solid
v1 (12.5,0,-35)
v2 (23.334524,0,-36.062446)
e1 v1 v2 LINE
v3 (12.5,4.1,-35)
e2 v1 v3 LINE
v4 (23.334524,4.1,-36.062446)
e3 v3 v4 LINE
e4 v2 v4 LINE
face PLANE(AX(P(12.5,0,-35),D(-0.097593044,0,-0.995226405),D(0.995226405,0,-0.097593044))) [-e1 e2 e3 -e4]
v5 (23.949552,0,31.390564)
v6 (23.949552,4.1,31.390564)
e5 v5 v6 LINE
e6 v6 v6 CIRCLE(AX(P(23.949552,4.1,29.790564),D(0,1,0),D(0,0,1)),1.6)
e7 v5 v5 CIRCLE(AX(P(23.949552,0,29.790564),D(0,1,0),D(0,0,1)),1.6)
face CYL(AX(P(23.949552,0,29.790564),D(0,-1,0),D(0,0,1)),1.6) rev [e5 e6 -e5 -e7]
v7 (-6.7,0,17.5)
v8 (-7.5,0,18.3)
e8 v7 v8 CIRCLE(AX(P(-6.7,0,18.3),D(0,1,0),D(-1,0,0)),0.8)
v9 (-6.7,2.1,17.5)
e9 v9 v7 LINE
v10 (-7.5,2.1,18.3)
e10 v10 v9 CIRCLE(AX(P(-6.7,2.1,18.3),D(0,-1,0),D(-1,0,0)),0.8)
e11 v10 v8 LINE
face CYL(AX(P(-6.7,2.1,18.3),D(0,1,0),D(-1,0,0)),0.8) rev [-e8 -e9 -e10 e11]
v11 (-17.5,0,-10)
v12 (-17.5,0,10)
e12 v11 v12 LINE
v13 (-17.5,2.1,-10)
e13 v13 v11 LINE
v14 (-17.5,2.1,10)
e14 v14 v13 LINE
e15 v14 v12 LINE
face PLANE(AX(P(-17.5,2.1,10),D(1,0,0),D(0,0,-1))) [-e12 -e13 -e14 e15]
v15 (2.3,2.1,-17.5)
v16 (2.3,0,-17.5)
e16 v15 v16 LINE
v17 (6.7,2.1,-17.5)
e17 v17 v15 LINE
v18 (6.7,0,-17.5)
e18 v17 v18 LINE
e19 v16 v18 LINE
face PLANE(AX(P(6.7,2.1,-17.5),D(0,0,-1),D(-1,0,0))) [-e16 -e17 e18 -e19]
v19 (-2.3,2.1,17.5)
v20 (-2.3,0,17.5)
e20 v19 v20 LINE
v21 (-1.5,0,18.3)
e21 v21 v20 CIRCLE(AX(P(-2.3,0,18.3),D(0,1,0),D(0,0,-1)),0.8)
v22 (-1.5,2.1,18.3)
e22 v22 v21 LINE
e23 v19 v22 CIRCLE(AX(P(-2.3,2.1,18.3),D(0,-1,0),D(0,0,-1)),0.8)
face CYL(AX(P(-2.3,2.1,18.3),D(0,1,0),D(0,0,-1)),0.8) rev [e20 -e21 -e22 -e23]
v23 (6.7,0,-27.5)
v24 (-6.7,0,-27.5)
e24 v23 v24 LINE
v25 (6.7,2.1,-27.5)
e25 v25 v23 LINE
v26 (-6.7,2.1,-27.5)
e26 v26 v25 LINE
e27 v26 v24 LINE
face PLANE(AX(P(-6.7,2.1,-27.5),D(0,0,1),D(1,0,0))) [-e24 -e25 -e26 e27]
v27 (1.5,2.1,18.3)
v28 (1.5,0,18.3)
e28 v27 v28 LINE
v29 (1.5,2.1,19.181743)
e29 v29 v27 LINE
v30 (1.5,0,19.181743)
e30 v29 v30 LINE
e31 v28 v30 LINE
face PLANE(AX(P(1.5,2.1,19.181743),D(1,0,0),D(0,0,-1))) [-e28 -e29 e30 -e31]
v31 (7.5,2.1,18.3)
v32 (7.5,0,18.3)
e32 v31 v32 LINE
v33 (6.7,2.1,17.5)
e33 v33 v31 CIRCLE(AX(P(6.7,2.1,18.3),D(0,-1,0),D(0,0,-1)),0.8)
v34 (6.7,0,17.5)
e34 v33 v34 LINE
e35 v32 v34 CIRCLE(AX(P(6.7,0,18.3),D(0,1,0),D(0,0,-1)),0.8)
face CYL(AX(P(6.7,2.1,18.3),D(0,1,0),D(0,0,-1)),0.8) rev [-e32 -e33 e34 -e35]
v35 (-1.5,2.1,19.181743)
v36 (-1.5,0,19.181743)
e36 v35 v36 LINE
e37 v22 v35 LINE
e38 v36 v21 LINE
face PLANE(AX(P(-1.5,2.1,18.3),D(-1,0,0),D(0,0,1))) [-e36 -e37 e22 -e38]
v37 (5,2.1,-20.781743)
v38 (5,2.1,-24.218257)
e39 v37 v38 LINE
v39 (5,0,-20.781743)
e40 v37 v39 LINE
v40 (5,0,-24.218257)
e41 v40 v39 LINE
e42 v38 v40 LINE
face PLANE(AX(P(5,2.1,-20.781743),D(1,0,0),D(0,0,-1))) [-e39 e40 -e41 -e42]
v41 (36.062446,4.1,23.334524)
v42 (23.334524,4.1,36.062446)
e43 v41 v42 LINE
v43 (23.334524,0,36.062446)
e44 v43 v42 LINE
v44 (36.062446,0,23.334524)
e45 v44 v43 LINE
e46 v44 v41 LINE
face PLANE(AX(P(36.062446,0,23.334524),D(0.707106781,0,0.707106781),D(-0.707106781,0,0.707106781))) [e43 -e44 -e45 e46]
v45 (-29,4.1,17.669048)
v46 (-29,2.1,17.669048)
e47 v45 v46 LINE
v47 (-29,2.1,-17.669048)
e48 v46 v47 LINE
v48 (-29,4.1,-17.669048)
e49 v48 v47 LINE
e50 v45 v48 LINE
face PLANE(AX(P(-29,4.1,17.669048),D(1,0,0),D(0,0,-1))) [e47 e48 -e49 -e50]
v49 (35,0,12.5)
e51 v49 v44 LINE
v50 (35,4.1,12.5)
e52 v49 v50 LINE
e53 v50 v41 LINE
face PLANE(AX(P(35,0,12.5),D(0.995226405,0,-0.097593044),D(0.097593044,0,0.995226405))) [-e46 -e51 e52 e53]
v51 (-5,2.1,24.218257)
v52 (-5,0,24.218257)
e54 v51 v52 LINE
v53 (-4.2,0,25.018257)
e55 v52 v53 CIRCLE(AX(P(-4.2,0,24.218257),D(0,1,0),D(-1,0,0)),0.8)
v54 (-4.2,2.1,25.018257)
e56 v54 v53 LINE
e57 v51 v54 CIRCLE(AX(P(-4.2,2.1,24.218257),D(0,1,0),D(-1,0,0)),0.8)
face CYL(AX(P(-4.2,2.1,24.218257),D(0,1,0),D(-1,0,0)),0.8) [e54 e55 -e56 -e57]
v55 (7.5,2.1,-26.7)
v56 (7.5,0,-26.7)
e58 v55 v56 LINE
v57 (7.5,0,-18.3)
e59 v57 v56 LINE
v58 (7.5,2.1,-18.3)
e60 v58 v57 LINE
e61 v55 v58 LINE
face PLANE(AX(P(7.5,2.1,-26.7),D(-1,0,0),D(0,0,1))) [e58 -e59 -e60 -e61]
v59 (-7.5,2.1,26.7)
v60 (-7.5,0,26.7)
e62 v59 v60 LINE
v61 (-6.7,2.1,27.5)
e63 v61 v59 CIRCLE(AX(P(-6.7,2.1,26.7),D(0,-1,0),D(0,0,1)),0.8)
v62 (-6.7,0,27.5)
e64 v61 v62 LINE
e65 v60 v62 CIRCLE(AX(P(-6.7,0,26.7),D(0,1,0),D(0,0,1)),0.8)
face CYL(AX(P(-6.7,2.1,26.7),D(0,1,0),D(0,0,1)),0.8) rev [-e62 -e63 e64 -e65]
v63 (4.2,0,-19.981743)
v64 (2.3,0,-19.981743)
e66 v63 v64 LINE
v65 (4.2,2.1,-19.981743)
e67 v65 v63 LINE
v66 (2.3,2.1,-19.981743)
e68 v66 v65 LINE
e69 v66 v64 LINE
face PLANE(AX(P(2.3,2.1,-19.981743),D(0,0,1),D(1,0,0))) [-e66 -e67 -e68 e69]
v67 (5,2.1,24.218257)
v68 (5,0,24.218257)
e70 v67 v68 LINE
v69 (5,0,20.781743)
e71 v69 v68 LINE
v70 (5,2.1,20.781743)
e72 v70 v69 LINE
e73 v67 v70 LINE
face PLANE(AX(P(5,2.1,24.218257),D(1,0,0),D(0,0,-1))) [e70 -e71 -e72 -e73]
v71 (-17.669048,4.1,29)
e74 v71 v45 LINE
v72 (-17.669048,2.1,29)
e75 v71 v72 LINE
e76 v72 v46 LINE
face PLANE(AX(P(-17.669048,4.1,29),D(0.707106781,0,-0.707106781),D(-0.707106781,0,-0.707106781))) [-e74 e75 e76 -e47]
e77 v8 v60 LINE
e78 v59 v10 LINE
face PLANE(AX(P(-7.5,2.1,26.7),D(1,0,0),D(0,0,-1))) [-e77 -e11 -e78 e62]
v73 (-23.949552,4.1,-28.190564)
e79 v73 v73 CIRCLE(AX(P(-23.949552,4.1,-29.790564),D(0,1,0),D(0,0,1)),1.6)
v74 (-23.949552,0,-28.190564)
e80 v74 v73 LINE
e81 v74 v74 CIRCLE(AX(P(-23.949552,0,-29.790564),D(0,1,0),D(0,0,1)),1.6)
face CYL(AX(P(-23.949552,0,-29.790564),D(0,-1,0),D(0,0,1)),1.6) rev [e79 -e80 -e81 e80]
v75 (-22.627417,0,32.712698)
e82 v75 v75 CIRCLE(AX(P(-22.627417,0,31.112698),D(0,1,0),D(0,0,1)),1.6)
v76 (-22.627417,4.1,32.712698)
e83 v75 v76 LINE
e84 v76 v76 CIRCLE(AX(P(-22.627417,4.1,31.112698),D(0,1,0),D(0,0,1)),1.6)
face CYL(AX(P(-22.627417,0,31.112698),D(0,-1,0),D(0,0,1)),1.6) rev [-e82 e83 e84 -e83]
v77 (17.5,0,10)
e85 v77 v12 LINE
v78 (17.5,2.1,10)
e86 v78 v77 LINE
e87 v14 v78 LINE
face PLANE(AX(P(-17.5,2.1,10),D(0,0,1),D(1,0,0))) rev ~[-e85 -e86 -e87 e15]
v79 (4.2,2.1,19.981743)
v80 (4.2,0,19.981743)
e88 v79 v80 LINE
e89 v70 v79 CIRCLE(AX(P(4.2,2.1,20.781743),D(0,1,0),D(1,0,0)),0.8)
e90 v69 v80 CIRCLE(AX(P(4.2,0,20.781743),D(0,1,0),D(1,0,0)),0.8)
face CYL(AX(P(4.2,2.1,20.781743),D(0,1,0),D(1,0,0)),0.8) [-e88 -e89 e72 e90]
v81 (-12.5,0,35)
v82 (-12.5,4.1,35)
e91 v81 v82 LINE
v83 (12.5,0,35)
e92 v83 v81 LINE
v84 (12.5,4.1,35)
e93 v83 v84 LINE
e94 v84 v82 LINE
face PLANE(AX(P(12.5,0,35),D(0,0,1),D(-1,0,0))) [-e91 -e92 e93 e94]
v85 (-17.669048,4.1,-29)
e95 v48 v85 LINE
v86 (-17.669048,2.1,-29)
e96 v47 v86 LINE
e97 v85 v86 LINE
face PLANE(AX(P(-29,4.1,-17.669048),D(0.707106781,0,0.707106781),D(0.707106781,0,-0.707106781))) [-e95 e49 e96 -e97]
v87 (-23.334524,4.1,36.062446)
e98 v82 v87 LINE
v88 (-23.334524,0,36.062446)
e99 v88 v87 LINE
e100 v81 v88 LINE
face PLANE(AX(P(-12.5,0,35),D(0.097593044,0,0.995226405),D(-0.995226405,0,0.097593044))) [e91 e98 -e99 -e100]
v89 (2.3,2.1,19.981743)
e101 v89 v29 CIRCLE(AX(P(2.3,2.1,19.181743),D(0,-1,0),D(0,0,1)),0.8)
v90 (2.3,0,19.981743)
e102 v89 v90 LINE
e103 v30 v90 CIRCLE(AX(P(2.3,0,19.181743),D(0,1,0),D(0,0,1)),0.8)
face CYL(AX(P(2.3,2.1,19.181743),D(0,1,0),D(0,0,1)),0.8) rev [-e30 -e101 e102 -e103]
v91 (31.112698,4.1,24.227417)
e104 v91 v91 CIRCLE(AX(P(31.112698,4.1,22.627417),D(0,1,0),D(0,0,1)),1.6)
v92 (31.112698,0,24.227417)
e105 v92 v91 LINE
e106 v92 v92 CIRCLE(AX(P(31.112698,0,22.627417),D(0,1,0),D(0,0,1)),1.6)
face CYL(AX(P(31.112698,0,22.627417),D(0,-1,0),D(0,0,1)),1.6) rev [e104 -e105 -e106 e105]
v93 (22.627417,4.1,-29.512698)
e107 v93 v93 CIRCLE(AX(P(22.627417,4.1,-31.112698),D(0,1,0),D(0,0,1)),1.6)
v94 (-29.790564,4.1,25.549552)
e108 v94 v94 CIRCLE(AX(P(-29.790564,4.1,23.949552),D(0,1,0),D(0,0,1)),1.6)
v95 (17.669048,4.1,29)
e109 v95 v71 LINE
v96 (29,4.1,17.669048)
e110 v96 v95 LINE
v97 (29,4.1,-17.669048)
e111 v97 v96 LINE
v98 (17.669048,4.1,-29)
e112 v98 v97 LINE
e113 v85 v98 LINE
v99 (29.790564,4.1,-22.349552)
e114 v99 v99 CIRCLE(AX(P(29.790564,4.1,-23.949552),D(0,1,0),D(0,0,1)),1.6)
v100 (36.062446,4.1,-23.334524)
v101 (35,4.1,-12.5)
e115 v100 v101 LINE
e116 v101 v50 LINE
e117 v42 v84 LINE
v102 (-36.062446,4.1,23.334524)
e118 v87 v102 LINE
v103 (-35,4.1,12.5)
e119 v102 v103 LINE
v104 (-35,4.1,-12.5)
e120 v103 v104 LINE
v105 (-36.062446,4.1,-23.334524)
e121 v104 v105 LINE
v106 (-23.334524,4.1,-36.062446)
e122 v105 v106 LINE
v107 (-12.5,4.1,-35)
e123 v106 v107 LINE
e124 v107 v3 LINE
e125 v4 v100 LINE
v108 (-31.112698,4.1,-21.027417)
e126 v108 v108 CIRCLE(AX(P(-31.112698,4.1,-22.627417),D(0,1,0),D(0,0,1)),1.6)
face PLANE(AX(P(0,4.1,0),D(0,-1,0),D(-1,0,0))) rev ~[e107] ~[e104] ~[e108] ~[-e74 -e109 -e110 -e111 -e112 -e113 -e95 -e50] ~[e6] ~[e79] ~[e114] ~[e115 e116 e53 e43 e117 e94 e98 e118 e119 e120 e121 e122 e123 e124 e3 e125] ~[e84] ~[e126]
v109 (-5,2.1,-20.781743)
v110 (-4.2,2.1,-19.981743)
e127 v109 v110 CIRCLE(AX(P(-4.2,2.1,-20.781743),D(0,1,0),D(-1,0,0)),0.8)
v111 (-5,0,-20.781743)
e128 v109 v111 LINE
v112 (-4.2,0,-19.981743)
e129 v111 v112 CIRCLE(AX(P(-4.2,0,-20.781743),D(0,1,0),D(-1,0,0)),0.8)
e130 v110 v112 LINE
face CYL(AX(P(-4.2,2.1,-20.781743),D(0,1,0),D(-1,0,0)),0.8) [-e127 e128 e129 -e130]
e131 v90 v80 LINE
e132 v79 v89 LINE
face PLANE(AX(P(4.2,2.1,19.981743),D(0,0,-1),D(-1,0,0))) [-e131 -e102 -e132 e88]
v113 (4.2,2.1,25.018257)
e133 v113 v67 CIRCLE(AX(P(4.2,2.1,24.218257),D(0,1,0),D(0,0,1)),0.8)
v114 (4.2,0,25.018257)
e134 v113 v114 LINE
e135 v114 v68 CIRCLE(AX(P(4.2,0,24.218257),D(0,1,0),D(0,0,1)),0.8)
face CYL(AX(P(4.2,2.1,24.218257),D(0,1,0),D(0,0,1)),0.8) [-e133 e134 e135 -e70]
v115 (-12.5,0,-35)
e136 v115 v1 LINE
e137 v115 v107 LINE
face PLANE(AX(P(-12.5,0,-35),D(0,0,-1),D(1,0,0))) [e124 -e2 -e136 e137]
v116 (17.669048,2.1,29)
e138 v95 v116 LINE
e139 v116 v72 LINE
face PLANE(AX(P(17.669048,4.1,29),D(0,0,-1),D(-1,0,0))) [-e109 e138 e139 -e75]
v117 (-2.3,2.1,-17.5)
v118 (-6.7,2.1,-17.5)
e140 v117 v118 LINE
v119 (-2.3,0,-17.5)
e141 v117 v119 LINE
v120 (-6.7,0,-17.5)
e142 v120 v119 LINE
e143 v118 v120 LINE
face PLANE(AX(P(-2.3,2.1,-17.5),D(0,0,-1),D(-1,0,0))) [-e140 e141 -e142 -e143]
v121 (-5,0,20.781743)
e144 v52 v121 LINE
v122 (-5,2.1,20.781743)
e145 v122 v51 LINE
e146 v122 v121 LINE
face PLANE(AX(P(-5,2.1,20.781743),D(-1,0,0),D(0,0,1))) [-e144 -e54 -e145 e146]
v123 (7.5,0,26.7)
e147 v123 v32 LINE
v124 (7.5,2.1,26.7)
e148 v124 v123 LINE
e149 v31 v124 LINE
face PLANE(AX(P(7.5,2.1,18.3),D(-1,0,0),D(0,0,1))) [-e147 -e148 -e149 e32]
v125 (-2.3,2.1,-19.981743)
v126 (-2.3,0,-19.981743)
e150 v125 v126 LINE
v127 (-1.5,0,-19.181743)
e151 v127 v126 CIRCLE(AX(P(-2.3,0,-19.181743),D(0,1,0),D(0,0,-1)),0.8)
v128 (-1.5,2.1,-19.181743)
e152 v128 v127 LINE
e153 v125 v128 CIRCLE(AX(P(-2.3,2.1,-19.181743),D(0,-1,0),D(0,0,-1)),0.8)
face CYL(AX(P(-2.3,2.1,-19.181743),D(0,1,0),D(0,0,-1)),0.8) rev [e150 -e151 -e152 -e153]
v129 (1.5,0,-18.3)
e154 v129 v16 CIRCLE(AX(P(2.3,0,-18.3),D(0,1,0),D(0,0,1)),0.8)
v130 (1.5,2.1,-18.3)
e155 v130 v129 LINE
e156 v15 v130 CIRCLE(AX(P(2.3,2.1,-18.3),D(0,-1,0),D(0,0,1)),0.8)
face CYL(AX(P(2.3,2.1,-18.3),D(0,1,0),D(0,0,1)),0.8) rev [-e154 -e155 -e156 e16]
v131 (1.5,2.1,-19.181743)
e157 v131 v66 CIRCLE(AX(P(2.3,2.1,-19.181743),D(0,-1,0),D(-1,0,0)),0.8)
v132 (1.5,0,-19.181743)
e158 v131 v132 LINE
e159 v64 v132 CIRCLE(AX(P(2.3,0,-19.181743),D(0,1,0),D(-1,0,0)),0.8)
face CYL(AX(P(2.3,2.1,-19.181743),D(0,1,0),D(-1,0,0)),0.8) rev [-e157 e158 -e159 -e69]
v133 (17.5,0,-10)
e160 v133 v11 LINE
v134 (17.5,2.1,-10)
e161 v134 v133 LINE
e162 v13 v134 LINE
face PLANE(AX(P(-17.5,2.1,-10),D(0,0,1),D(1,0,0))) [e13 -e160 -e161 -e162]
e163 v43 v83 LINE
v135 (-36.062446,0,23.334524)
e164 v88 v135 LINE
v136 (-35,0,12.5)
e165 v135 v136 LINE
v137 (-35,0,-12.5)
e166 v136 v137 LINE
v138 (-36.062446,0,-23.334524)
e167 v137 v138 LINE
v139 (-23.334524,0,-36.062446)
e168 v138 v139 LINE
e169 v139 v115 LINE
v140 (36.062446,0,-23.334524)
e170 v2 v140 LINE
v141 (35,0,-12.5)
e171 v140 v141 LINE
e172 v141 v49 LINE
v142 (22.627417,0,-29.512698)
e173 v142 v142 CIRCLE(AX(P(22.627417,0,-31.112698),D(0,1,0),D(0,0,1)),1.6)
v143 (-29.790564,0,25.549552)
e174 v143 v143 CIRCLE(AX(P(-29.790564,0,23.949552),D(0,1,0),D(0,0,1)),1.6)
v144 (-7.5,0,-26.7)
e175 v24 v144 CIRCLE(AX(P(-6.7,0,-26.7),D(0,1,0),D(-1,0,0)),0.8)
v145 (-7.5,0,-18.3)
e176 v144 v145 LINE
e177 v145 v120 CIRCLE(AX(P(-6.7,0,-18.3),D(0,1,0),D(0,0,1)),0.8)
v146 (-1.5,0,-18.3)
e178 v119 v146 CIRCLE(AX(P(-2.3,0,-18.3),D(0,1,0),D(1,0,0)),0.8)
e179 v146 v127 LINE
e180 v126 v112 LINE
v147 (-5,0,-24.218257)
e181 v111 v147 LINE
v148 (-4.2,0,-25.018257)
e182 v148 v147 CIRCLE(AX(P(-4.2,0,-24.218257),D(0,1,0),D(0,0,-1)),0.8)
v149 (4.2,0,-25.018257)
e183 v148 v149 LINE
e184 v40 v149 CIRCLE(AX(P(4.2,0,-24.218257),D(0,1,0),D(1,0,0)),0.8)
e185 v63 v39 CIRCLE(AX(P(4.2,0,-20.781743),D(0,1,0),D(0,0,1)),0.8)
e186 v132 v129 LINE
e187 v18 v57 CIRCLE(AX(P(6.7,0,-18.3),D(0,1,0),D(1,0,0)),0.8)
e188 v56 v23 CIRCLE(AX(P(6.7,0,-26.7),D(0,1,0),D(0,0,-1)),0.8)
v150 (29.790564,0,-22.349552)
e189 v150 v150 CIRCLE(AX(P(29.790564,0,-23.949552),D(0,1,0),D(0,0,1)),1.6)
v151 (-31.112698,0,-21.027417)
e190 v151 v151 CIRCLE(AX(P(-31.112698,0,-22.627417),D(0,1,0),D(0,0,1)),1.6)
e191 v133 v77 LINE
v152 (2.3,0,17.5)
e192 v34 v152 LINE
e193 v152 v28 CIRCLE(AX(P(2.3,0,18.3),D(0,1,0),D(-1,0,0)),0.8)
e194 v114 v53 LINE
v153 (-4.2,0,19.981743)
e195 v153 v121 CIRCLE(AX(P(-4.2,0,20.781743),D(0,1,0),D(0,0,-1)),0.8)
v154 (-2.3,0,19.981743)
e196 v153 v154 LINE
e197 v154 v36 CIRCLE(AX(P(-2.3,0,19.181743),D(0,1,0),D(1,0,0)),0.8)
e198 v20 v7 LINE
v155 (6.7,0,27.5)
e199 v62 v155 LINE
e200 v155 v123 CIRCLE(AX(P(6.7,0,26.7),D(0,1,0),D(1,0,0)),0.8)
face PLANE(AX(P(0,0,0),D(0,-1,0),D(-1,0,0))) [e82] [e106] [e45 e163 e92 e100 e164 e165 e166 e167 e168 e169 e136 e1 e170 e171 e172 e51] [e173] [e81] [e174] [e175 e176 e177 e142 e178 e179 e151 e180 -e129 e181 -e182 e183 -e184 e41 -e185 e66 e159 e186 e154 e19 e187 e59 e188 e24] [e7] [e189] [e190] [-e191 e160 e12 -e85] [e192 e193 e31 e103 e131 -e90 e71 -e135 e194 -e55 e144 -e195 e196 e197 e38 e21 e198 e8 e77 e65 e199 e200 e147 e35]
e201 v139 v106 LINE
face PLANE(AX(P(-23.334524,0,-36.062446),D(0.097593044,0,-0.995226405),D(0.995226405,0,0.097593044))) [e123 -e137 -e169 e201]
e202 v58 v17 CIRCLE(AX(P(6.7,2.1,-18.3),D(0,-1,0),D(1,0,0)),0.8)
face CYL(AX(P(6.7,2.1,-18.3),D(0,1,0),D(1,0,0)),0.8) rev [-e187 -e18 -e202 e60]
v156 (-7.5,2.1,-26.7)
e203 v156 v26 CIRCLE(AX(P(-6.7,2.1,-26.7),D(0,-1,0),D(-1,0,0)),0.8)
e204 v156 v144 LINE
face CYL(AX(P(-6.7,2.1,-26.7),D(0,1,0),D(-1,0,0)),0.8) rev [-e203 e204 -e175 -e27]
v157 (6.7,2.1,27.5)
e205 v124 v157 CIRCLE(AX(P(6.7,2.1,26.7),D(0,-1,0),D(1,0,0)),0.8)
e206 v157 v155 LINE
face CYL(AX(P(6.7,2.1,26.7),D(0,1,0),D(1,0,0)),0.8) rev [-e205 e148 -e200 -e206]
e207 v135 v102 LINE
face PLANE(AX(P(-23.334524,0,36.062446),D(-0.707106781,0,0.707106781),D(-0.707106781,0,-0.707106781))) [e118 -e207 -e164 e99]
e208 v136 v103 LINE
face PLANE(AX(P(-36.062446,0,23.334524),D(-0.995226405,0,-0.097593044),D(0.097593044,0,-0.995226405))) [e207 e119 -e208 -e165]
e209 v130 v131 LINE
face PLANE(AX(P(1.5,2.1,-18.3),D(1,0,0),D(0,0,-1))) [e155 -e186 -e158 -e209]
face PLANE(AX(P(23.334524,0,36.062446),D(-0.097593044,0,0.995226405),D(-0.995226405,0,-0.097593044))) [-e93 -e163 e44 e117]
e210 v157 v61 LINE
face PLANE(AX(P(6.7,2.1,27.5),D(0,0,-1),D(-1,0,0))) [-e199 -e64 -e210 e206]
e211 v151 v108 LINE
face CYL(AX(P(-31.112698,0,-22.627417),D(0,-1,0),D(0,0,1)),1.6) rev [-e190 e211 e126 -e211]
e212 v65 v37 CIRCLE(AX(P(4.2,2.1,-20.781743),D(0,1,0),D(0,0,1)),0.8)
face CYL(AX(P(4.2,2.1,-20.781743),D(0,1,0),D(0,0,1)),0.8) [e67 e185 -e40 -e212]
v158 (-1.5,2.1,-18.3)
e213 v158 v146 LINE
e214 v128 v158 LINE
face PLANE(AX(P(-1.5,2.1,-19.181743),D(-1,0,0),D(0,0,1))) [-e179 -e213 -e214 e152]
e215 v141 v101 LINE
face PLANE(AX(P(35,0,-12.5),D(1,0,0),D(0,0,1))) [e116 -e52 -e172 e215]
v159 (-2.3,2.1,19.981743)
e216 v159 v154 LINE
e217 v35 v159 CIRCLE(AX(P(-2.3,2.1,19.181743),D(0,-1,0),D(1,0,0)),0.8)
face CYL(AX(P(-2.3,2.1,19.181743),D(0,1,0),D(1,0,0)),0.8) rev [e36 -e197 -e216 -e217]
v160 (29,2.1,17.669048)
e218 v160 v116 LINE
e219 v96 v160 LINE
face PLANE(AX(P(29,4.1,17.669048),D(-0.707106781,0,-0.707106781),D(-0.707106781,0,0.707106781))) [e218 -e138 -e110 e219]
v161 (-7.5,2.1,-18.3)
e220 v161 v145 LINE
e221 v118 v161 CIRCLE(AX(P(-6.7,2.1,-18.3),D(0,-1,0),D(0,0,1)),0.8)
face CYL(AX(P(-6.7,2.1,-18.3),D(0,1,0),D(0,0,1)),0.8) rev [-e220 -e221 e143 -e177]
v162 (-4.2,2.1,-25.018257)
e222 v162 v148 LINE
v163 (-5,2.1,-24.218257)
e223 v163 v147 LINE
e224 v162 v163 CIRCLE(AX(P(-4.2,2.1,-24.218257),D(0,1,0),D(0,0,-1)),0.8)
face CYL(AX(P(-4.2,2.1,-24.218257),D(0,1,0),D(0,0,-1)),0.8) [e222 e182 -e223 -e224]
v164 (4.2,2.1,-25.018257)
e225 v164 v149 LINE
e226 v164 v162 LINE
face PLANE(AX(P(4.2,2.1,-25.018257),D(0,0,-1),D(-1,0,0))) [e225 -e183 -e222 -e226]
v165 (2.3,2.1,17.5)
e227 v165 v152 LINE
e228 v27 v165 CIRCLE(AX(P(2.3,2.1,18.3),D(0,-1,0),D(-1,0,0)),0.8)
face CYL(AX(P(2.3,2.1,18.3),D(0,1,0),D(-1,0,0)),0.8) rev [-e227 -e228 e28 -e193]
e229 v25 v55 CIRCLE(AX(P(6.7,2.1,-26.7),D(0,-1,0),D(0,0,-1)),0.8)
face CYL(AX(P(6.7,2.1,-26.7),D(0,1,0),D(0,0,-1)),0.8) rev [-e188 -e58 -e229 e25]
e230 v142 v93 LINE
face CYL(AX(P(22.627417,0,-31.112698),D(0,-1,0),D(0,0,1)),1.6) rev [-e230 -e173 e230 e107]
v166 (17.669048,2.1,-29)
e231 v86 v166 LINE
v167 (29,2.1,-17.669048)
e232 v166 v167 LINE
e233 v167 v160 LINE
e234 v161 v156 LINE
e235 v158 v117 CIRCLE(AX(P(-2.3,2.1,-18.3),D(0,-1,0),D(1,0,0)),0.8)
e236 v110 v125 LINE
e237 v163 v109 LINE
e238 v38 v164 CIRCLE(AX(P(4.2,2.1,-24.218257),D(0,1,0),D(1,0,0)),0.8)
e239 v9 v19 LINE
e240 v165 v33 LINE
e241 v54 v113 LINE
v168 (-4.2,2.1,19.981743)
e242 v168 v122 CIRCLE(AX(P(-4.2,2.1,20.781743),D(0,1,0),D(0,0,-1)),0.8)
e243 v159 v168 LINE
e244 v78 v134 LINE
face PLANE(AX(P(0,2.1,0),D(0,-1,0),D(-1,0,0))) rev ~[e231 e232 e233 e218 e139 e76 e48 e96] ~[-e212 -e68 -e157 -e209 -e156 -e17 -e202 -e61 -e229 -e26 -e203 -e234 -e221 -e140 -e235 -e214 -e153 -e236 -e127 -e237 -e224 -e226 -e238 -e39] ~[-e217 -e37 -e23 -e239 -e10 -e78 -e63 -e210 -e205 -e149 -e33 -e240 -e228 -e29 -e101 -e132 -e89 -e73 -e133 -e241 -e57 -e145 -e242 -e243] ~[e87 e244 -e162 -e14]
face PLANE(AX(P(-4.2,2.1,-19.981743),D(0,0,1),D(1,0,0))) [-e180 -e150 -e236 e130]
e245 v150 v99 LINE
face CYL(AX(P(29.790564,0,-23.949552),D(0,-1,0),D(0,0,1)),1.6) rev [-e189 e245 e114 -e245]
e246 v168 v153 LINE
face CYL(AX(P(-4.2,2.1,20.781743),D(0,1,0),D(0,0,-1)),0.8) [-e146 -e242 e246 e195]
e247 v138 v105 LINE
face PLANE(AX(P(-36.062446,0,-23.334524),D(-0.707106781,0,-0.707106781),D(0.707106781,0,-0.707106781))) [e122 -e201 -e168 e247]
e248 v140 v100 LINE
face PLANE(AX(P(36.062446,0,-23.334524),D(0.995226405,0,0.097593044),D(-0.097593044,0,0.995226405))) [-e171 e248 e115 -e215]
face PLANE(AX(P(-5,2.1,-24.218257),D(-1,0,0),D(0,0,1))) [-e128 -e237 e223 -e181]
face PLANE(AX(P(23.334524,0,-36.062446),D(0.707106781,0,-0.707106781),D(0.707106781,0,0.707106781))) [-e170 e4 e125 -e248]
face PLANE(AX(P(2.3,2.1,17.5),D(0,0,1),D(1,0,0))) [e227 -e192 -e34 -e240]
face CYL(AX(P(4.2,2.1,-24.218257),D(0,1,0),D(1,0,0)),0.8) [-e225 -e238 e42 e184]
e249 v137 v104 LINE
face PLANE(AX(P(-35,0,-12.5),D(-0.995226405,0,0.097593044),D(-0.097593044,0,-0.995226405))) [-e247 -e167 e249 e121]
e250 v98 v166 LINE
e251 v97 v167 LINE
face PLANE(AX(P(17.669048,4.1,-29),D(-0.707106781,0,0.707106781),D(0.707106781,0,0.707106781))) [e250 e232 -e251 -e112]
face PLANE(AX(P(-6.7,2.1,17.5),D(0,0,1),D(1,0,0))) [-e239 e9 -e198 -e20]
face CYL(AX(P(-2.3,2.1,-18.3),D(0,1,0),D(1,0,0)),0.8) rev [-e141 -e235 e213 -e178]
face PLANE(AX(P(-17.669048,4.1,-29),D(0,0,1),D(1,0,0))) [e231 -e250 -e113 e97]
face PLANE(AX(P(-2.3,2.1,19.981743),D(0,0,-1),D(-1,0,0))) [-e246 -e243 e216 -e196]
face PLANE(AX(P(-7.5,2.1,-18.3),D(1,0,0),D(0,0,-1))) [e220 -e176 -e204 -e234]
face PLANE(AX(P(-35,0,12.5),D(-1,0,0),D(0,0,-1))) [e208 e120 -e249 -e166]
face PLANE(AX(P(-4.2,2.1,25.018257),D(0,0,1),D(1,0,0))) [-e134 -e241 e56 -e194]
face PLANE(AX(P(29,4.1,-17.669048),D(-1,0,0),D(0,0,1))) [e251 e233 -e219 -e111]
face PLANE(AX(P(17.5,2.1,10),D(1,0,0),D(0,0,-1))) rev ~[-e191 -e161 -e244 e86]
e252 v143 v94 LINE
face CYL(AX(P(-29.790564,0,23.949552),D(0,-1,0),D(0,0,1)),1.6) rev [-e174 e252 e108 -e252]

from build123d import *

# Parameters (mm, degrees)
SKETCH1_R           = 1.6
BOSS_EXTRUDE2_DEPTH = 4.1
CUT_EXTRUDE1_DEPTH  = 2
CUT_EXTRUDE4_DEPTH  = 52.043216983
SKETCH9_W           = 35
SKETCH9_H           = 20
CUT_EXTRUDE5_DEPTH  = 10


with BuildPart() as part:
    # Sketch1 → Boss-Extrude2 (new body)
    with BuildSketch(Plane(origin=(0, 0, 0), x_dir=(1, 0, 0), z_dir=(0, 1, 0))):
        Polygon((-12.5, 35), (12.5, 35), (23.334523779, 36.062445841), (36.062445841, 23.334523779), (35, 12.5), (35, -12.5), (36.062445841, -23.334523779), (23.334523779, -36.062445841), (12.5, -35), (-12.5, -35), (-23.334523779, -36.062445841), (-36.062445841, -23.334523779), (-35, -12.5), (-35, 12.5), (-36.062445841, 23.334523779), (-23.334523779, 36.062445841), align=None)
        with Locations((22.627416998, 31.112698372)):
            Circle(SKETCH1_R, mode=Mode.SUBTRACT)
        with Locations((29.79056362, 23.94955175)):
            Circle(SKETCH1_R, mode=Mode.SUBTRACT)
        with Locations((31.112698372, -22.627416998)):
            Circle(SKETCH1_R, mode=Mode.SUBTRACT)
        with Locations((23.94955175, -29.79056362)):
            Circle(SKETCH1_R, mode=Mode.SUBTRACT)
        with Locations((-22.627416998, -31.112698372)):
            Circle(SKETCH1_R, mode=Mode.SUBTRACT)
        with Locations((-29.79056362, -23.94955175)):
            Circle(SKETCH1_R, mode=Mode.SUBTRACT)
        with Locations((-31.112698372, 22.627416998)):
            Circle(SKETCH1_R, mode=Mode.SUBTRACT)
        with Locations((-23.94955175, 29.79056362)):
            Circle(SKETCH1_R, mode=Mode.SUBTRACT)
    extrude(amount=BOSS_EXTRUDE2_DEPTH)

    # Sketch2 → Cut-Extrude1 (cut)
    with BuildSketch(Plane(origin=(0, 4.1, 0), x_dir=(1, 0, 0), z_dir=(0, 1, 0))):
        Polygon((-17.669047558, 29), (17.669047558, 29), (29, 17.669047558), (29, -17.669047558), (17.669047558, -29), (-17.669047558, -29), (-29, -17.669047558), (-29, 17.669047558), align=None)
    extrude(amount=-CUT_EXTRUDE1_DEPTH, mode=Mode.SUBTRACT)

    # Sketch8 → Cut-Extrude4 (cut, through all)
    with BuildSketch(Plane(origin=(0, 2.1, 0), x_dir=(1, 0, 0), z_dir=(0, 1, 0))):
        with BuildLine():
            Line((-1.5, 19.18174342), (-1.5, 18.3))
            ThreePointArc((-1.5, 18.3), (-1.734314575, 17.734314575), (-2.3, 17.5))
            Line((-2.3, 17.5), (-6.7, 17.5))
            ThreePointArc((-6.7, 17.5), (-7.265685425, 17.734314575), (-7.5, 18.3))
            Line((-7.5, 18.3), (-7.5, 26.7))
            ThreePointArc((-7.5, 26.7), (-7.265685425, 27.265685425), (-6.7, 27.5))
            Line((-6.7, 27.5), (6.7, 27.5))
            ThreePointArc((6.7, 27.5), (7.265685425, 27.265685425), (7.5, 26.7))
            Line((7.5, 26.7), (7.5, 18.3))
            ThreePointArc((7.5, 18.3), (7.265685425, 17.734314575), (6.7, 17.5))
            Line((6.7, 17.5), (2.3, 17.5))
            ThreePointArc((2.3, 17.5), (1.734314575, 17.734314575), (1.5, 18.3))
            Line((1.5, 18.3), (1.5, 19.18174342))
            ThreePointArc((1.5, 19.18174342), (1.734314575, 19.747428845), (2.3, 19.98174342))
            Line((2.3, 19.98174342), (4.2, 19.98174342))
            ThreePointArc((4.2, 19.98174342), (4.765685425, 20.216057995), (5, 20.78174342))
            Line((5, 20.78174342), (5, 24.21825658))
            ThreePointArc((5, 24.21825658), (4.765685425, 24.783942005), (4.2, 25.01825658))
            Line((4.2, 25.01825658), (-4.2, 25.01825658))
            ThreePointArc((-4.2, 25.01825658), (-4.765685425, 24.783942005), (-5, 24.21825658))
            Line((-5, 24.21825658), (-5, 20.78174342))
            ThreePointArc((-5, 20.78174342), (-4.765685425, 20.216057995), (-4.2, 19.98174342))
            Line((-4.2, 19.98174342), (-2.3, 19.98174342))
            ThreePointArc((-2.3, 19.98174342), (-1.734314575, 19.747428845), (-1.5, 19.18174342))
        make_face()
        with BuildLine():
            Line((2.3, -17.5), (6.7, -17.5))
            ThreePointArc((6.7, -17.5), (7.265685425, -17.734314575), (7.5, -18.3))
            Line((7.5, -18.3), (7.5, -26.7))
            ThreePointArc((7.5, -26.7), (7.265685425, -27.265685425), (6.7, -27.5))
            Line((6.7, -27.5), (-6.7, -27.5))
            ThreePointArc((-6.7, -27.5), (-7.265685425, -27.265685425), (-7.5, -26.7))
            Line((-7.5, -26.7), (-7.5, -18.3))
            ThreePointArc((-7.5, -18.3), (-7.265685425, -17.734314575), (-6.7, -17.5))
            Line((-6.7, -17.5), (-2.3, -17.5))
            ThreePointArc((-2.3, -17.5), (-1.734314575, -17.734314575), (-1.5, -18.3))
            Line((-1.5, -18.3), (-1.5, -19.18174342))
            ThreePointArc((-1.5, -19.18174342), (-1.734314575, -19.747428845), (-2.3, -19.98174342))
            Line((-2.3, -19.98174342), (-4.2, -19.98174342))
            ThreePointArc((-4.2, -19.98174342), (-4.765685425, -20.216057995), (-5, -20.78174342))
            Line((-5, -20.78174342), (-5, -24.21825658))
            ThreePointArc((-5, -24.21825658), (-4.765685425, -24.783942005), (-4.2, -25.01825658))
            Line((-4.2, -25.01825658), (4.2, -25.01825658))
            ThreePointArc((4.2, -25.01825658), (4.765685425, -24.783942005), (5, -24.21825658))
            Line((5, -24.21825658), (5, -20.78174342))
            ThreePointArc((5, -20.78174342), (4.765685425, -20.216057995), (4.2, -19.98174342))
            Line((4.2, -19.98174342), (2.3, -19.98174342))
            ThreePointArc((2.3, -19.98174342), (1.734314575, -19.747428845), (1.5, -19.18174342))
            Line((1.5, -19.18174342), (1.5, -18.3))
            ThreePointArc((1.5, -18.3), (1.734314575, -17.734314575), (2.3, -17.5))
        make_face()
    extrude(amount=-CUT_EXTRUDE4_DEPTH, mode=Mode.SUBTRACT)

    # Sketch9 → Cut-Extrude5 (cut)
    with BuildSketch(Plane(origin=(0, 2.1, 0), x_dir=(1, 0, 0), z_dir=(0, 1, 0))):
        Rectangle(SKETCH9_W, SKETCH9_H)
    extrude(amount=-CUT_EXTRUDE5_DEPTH, mode=Mode.SUBTRACT)


solid = part.part
